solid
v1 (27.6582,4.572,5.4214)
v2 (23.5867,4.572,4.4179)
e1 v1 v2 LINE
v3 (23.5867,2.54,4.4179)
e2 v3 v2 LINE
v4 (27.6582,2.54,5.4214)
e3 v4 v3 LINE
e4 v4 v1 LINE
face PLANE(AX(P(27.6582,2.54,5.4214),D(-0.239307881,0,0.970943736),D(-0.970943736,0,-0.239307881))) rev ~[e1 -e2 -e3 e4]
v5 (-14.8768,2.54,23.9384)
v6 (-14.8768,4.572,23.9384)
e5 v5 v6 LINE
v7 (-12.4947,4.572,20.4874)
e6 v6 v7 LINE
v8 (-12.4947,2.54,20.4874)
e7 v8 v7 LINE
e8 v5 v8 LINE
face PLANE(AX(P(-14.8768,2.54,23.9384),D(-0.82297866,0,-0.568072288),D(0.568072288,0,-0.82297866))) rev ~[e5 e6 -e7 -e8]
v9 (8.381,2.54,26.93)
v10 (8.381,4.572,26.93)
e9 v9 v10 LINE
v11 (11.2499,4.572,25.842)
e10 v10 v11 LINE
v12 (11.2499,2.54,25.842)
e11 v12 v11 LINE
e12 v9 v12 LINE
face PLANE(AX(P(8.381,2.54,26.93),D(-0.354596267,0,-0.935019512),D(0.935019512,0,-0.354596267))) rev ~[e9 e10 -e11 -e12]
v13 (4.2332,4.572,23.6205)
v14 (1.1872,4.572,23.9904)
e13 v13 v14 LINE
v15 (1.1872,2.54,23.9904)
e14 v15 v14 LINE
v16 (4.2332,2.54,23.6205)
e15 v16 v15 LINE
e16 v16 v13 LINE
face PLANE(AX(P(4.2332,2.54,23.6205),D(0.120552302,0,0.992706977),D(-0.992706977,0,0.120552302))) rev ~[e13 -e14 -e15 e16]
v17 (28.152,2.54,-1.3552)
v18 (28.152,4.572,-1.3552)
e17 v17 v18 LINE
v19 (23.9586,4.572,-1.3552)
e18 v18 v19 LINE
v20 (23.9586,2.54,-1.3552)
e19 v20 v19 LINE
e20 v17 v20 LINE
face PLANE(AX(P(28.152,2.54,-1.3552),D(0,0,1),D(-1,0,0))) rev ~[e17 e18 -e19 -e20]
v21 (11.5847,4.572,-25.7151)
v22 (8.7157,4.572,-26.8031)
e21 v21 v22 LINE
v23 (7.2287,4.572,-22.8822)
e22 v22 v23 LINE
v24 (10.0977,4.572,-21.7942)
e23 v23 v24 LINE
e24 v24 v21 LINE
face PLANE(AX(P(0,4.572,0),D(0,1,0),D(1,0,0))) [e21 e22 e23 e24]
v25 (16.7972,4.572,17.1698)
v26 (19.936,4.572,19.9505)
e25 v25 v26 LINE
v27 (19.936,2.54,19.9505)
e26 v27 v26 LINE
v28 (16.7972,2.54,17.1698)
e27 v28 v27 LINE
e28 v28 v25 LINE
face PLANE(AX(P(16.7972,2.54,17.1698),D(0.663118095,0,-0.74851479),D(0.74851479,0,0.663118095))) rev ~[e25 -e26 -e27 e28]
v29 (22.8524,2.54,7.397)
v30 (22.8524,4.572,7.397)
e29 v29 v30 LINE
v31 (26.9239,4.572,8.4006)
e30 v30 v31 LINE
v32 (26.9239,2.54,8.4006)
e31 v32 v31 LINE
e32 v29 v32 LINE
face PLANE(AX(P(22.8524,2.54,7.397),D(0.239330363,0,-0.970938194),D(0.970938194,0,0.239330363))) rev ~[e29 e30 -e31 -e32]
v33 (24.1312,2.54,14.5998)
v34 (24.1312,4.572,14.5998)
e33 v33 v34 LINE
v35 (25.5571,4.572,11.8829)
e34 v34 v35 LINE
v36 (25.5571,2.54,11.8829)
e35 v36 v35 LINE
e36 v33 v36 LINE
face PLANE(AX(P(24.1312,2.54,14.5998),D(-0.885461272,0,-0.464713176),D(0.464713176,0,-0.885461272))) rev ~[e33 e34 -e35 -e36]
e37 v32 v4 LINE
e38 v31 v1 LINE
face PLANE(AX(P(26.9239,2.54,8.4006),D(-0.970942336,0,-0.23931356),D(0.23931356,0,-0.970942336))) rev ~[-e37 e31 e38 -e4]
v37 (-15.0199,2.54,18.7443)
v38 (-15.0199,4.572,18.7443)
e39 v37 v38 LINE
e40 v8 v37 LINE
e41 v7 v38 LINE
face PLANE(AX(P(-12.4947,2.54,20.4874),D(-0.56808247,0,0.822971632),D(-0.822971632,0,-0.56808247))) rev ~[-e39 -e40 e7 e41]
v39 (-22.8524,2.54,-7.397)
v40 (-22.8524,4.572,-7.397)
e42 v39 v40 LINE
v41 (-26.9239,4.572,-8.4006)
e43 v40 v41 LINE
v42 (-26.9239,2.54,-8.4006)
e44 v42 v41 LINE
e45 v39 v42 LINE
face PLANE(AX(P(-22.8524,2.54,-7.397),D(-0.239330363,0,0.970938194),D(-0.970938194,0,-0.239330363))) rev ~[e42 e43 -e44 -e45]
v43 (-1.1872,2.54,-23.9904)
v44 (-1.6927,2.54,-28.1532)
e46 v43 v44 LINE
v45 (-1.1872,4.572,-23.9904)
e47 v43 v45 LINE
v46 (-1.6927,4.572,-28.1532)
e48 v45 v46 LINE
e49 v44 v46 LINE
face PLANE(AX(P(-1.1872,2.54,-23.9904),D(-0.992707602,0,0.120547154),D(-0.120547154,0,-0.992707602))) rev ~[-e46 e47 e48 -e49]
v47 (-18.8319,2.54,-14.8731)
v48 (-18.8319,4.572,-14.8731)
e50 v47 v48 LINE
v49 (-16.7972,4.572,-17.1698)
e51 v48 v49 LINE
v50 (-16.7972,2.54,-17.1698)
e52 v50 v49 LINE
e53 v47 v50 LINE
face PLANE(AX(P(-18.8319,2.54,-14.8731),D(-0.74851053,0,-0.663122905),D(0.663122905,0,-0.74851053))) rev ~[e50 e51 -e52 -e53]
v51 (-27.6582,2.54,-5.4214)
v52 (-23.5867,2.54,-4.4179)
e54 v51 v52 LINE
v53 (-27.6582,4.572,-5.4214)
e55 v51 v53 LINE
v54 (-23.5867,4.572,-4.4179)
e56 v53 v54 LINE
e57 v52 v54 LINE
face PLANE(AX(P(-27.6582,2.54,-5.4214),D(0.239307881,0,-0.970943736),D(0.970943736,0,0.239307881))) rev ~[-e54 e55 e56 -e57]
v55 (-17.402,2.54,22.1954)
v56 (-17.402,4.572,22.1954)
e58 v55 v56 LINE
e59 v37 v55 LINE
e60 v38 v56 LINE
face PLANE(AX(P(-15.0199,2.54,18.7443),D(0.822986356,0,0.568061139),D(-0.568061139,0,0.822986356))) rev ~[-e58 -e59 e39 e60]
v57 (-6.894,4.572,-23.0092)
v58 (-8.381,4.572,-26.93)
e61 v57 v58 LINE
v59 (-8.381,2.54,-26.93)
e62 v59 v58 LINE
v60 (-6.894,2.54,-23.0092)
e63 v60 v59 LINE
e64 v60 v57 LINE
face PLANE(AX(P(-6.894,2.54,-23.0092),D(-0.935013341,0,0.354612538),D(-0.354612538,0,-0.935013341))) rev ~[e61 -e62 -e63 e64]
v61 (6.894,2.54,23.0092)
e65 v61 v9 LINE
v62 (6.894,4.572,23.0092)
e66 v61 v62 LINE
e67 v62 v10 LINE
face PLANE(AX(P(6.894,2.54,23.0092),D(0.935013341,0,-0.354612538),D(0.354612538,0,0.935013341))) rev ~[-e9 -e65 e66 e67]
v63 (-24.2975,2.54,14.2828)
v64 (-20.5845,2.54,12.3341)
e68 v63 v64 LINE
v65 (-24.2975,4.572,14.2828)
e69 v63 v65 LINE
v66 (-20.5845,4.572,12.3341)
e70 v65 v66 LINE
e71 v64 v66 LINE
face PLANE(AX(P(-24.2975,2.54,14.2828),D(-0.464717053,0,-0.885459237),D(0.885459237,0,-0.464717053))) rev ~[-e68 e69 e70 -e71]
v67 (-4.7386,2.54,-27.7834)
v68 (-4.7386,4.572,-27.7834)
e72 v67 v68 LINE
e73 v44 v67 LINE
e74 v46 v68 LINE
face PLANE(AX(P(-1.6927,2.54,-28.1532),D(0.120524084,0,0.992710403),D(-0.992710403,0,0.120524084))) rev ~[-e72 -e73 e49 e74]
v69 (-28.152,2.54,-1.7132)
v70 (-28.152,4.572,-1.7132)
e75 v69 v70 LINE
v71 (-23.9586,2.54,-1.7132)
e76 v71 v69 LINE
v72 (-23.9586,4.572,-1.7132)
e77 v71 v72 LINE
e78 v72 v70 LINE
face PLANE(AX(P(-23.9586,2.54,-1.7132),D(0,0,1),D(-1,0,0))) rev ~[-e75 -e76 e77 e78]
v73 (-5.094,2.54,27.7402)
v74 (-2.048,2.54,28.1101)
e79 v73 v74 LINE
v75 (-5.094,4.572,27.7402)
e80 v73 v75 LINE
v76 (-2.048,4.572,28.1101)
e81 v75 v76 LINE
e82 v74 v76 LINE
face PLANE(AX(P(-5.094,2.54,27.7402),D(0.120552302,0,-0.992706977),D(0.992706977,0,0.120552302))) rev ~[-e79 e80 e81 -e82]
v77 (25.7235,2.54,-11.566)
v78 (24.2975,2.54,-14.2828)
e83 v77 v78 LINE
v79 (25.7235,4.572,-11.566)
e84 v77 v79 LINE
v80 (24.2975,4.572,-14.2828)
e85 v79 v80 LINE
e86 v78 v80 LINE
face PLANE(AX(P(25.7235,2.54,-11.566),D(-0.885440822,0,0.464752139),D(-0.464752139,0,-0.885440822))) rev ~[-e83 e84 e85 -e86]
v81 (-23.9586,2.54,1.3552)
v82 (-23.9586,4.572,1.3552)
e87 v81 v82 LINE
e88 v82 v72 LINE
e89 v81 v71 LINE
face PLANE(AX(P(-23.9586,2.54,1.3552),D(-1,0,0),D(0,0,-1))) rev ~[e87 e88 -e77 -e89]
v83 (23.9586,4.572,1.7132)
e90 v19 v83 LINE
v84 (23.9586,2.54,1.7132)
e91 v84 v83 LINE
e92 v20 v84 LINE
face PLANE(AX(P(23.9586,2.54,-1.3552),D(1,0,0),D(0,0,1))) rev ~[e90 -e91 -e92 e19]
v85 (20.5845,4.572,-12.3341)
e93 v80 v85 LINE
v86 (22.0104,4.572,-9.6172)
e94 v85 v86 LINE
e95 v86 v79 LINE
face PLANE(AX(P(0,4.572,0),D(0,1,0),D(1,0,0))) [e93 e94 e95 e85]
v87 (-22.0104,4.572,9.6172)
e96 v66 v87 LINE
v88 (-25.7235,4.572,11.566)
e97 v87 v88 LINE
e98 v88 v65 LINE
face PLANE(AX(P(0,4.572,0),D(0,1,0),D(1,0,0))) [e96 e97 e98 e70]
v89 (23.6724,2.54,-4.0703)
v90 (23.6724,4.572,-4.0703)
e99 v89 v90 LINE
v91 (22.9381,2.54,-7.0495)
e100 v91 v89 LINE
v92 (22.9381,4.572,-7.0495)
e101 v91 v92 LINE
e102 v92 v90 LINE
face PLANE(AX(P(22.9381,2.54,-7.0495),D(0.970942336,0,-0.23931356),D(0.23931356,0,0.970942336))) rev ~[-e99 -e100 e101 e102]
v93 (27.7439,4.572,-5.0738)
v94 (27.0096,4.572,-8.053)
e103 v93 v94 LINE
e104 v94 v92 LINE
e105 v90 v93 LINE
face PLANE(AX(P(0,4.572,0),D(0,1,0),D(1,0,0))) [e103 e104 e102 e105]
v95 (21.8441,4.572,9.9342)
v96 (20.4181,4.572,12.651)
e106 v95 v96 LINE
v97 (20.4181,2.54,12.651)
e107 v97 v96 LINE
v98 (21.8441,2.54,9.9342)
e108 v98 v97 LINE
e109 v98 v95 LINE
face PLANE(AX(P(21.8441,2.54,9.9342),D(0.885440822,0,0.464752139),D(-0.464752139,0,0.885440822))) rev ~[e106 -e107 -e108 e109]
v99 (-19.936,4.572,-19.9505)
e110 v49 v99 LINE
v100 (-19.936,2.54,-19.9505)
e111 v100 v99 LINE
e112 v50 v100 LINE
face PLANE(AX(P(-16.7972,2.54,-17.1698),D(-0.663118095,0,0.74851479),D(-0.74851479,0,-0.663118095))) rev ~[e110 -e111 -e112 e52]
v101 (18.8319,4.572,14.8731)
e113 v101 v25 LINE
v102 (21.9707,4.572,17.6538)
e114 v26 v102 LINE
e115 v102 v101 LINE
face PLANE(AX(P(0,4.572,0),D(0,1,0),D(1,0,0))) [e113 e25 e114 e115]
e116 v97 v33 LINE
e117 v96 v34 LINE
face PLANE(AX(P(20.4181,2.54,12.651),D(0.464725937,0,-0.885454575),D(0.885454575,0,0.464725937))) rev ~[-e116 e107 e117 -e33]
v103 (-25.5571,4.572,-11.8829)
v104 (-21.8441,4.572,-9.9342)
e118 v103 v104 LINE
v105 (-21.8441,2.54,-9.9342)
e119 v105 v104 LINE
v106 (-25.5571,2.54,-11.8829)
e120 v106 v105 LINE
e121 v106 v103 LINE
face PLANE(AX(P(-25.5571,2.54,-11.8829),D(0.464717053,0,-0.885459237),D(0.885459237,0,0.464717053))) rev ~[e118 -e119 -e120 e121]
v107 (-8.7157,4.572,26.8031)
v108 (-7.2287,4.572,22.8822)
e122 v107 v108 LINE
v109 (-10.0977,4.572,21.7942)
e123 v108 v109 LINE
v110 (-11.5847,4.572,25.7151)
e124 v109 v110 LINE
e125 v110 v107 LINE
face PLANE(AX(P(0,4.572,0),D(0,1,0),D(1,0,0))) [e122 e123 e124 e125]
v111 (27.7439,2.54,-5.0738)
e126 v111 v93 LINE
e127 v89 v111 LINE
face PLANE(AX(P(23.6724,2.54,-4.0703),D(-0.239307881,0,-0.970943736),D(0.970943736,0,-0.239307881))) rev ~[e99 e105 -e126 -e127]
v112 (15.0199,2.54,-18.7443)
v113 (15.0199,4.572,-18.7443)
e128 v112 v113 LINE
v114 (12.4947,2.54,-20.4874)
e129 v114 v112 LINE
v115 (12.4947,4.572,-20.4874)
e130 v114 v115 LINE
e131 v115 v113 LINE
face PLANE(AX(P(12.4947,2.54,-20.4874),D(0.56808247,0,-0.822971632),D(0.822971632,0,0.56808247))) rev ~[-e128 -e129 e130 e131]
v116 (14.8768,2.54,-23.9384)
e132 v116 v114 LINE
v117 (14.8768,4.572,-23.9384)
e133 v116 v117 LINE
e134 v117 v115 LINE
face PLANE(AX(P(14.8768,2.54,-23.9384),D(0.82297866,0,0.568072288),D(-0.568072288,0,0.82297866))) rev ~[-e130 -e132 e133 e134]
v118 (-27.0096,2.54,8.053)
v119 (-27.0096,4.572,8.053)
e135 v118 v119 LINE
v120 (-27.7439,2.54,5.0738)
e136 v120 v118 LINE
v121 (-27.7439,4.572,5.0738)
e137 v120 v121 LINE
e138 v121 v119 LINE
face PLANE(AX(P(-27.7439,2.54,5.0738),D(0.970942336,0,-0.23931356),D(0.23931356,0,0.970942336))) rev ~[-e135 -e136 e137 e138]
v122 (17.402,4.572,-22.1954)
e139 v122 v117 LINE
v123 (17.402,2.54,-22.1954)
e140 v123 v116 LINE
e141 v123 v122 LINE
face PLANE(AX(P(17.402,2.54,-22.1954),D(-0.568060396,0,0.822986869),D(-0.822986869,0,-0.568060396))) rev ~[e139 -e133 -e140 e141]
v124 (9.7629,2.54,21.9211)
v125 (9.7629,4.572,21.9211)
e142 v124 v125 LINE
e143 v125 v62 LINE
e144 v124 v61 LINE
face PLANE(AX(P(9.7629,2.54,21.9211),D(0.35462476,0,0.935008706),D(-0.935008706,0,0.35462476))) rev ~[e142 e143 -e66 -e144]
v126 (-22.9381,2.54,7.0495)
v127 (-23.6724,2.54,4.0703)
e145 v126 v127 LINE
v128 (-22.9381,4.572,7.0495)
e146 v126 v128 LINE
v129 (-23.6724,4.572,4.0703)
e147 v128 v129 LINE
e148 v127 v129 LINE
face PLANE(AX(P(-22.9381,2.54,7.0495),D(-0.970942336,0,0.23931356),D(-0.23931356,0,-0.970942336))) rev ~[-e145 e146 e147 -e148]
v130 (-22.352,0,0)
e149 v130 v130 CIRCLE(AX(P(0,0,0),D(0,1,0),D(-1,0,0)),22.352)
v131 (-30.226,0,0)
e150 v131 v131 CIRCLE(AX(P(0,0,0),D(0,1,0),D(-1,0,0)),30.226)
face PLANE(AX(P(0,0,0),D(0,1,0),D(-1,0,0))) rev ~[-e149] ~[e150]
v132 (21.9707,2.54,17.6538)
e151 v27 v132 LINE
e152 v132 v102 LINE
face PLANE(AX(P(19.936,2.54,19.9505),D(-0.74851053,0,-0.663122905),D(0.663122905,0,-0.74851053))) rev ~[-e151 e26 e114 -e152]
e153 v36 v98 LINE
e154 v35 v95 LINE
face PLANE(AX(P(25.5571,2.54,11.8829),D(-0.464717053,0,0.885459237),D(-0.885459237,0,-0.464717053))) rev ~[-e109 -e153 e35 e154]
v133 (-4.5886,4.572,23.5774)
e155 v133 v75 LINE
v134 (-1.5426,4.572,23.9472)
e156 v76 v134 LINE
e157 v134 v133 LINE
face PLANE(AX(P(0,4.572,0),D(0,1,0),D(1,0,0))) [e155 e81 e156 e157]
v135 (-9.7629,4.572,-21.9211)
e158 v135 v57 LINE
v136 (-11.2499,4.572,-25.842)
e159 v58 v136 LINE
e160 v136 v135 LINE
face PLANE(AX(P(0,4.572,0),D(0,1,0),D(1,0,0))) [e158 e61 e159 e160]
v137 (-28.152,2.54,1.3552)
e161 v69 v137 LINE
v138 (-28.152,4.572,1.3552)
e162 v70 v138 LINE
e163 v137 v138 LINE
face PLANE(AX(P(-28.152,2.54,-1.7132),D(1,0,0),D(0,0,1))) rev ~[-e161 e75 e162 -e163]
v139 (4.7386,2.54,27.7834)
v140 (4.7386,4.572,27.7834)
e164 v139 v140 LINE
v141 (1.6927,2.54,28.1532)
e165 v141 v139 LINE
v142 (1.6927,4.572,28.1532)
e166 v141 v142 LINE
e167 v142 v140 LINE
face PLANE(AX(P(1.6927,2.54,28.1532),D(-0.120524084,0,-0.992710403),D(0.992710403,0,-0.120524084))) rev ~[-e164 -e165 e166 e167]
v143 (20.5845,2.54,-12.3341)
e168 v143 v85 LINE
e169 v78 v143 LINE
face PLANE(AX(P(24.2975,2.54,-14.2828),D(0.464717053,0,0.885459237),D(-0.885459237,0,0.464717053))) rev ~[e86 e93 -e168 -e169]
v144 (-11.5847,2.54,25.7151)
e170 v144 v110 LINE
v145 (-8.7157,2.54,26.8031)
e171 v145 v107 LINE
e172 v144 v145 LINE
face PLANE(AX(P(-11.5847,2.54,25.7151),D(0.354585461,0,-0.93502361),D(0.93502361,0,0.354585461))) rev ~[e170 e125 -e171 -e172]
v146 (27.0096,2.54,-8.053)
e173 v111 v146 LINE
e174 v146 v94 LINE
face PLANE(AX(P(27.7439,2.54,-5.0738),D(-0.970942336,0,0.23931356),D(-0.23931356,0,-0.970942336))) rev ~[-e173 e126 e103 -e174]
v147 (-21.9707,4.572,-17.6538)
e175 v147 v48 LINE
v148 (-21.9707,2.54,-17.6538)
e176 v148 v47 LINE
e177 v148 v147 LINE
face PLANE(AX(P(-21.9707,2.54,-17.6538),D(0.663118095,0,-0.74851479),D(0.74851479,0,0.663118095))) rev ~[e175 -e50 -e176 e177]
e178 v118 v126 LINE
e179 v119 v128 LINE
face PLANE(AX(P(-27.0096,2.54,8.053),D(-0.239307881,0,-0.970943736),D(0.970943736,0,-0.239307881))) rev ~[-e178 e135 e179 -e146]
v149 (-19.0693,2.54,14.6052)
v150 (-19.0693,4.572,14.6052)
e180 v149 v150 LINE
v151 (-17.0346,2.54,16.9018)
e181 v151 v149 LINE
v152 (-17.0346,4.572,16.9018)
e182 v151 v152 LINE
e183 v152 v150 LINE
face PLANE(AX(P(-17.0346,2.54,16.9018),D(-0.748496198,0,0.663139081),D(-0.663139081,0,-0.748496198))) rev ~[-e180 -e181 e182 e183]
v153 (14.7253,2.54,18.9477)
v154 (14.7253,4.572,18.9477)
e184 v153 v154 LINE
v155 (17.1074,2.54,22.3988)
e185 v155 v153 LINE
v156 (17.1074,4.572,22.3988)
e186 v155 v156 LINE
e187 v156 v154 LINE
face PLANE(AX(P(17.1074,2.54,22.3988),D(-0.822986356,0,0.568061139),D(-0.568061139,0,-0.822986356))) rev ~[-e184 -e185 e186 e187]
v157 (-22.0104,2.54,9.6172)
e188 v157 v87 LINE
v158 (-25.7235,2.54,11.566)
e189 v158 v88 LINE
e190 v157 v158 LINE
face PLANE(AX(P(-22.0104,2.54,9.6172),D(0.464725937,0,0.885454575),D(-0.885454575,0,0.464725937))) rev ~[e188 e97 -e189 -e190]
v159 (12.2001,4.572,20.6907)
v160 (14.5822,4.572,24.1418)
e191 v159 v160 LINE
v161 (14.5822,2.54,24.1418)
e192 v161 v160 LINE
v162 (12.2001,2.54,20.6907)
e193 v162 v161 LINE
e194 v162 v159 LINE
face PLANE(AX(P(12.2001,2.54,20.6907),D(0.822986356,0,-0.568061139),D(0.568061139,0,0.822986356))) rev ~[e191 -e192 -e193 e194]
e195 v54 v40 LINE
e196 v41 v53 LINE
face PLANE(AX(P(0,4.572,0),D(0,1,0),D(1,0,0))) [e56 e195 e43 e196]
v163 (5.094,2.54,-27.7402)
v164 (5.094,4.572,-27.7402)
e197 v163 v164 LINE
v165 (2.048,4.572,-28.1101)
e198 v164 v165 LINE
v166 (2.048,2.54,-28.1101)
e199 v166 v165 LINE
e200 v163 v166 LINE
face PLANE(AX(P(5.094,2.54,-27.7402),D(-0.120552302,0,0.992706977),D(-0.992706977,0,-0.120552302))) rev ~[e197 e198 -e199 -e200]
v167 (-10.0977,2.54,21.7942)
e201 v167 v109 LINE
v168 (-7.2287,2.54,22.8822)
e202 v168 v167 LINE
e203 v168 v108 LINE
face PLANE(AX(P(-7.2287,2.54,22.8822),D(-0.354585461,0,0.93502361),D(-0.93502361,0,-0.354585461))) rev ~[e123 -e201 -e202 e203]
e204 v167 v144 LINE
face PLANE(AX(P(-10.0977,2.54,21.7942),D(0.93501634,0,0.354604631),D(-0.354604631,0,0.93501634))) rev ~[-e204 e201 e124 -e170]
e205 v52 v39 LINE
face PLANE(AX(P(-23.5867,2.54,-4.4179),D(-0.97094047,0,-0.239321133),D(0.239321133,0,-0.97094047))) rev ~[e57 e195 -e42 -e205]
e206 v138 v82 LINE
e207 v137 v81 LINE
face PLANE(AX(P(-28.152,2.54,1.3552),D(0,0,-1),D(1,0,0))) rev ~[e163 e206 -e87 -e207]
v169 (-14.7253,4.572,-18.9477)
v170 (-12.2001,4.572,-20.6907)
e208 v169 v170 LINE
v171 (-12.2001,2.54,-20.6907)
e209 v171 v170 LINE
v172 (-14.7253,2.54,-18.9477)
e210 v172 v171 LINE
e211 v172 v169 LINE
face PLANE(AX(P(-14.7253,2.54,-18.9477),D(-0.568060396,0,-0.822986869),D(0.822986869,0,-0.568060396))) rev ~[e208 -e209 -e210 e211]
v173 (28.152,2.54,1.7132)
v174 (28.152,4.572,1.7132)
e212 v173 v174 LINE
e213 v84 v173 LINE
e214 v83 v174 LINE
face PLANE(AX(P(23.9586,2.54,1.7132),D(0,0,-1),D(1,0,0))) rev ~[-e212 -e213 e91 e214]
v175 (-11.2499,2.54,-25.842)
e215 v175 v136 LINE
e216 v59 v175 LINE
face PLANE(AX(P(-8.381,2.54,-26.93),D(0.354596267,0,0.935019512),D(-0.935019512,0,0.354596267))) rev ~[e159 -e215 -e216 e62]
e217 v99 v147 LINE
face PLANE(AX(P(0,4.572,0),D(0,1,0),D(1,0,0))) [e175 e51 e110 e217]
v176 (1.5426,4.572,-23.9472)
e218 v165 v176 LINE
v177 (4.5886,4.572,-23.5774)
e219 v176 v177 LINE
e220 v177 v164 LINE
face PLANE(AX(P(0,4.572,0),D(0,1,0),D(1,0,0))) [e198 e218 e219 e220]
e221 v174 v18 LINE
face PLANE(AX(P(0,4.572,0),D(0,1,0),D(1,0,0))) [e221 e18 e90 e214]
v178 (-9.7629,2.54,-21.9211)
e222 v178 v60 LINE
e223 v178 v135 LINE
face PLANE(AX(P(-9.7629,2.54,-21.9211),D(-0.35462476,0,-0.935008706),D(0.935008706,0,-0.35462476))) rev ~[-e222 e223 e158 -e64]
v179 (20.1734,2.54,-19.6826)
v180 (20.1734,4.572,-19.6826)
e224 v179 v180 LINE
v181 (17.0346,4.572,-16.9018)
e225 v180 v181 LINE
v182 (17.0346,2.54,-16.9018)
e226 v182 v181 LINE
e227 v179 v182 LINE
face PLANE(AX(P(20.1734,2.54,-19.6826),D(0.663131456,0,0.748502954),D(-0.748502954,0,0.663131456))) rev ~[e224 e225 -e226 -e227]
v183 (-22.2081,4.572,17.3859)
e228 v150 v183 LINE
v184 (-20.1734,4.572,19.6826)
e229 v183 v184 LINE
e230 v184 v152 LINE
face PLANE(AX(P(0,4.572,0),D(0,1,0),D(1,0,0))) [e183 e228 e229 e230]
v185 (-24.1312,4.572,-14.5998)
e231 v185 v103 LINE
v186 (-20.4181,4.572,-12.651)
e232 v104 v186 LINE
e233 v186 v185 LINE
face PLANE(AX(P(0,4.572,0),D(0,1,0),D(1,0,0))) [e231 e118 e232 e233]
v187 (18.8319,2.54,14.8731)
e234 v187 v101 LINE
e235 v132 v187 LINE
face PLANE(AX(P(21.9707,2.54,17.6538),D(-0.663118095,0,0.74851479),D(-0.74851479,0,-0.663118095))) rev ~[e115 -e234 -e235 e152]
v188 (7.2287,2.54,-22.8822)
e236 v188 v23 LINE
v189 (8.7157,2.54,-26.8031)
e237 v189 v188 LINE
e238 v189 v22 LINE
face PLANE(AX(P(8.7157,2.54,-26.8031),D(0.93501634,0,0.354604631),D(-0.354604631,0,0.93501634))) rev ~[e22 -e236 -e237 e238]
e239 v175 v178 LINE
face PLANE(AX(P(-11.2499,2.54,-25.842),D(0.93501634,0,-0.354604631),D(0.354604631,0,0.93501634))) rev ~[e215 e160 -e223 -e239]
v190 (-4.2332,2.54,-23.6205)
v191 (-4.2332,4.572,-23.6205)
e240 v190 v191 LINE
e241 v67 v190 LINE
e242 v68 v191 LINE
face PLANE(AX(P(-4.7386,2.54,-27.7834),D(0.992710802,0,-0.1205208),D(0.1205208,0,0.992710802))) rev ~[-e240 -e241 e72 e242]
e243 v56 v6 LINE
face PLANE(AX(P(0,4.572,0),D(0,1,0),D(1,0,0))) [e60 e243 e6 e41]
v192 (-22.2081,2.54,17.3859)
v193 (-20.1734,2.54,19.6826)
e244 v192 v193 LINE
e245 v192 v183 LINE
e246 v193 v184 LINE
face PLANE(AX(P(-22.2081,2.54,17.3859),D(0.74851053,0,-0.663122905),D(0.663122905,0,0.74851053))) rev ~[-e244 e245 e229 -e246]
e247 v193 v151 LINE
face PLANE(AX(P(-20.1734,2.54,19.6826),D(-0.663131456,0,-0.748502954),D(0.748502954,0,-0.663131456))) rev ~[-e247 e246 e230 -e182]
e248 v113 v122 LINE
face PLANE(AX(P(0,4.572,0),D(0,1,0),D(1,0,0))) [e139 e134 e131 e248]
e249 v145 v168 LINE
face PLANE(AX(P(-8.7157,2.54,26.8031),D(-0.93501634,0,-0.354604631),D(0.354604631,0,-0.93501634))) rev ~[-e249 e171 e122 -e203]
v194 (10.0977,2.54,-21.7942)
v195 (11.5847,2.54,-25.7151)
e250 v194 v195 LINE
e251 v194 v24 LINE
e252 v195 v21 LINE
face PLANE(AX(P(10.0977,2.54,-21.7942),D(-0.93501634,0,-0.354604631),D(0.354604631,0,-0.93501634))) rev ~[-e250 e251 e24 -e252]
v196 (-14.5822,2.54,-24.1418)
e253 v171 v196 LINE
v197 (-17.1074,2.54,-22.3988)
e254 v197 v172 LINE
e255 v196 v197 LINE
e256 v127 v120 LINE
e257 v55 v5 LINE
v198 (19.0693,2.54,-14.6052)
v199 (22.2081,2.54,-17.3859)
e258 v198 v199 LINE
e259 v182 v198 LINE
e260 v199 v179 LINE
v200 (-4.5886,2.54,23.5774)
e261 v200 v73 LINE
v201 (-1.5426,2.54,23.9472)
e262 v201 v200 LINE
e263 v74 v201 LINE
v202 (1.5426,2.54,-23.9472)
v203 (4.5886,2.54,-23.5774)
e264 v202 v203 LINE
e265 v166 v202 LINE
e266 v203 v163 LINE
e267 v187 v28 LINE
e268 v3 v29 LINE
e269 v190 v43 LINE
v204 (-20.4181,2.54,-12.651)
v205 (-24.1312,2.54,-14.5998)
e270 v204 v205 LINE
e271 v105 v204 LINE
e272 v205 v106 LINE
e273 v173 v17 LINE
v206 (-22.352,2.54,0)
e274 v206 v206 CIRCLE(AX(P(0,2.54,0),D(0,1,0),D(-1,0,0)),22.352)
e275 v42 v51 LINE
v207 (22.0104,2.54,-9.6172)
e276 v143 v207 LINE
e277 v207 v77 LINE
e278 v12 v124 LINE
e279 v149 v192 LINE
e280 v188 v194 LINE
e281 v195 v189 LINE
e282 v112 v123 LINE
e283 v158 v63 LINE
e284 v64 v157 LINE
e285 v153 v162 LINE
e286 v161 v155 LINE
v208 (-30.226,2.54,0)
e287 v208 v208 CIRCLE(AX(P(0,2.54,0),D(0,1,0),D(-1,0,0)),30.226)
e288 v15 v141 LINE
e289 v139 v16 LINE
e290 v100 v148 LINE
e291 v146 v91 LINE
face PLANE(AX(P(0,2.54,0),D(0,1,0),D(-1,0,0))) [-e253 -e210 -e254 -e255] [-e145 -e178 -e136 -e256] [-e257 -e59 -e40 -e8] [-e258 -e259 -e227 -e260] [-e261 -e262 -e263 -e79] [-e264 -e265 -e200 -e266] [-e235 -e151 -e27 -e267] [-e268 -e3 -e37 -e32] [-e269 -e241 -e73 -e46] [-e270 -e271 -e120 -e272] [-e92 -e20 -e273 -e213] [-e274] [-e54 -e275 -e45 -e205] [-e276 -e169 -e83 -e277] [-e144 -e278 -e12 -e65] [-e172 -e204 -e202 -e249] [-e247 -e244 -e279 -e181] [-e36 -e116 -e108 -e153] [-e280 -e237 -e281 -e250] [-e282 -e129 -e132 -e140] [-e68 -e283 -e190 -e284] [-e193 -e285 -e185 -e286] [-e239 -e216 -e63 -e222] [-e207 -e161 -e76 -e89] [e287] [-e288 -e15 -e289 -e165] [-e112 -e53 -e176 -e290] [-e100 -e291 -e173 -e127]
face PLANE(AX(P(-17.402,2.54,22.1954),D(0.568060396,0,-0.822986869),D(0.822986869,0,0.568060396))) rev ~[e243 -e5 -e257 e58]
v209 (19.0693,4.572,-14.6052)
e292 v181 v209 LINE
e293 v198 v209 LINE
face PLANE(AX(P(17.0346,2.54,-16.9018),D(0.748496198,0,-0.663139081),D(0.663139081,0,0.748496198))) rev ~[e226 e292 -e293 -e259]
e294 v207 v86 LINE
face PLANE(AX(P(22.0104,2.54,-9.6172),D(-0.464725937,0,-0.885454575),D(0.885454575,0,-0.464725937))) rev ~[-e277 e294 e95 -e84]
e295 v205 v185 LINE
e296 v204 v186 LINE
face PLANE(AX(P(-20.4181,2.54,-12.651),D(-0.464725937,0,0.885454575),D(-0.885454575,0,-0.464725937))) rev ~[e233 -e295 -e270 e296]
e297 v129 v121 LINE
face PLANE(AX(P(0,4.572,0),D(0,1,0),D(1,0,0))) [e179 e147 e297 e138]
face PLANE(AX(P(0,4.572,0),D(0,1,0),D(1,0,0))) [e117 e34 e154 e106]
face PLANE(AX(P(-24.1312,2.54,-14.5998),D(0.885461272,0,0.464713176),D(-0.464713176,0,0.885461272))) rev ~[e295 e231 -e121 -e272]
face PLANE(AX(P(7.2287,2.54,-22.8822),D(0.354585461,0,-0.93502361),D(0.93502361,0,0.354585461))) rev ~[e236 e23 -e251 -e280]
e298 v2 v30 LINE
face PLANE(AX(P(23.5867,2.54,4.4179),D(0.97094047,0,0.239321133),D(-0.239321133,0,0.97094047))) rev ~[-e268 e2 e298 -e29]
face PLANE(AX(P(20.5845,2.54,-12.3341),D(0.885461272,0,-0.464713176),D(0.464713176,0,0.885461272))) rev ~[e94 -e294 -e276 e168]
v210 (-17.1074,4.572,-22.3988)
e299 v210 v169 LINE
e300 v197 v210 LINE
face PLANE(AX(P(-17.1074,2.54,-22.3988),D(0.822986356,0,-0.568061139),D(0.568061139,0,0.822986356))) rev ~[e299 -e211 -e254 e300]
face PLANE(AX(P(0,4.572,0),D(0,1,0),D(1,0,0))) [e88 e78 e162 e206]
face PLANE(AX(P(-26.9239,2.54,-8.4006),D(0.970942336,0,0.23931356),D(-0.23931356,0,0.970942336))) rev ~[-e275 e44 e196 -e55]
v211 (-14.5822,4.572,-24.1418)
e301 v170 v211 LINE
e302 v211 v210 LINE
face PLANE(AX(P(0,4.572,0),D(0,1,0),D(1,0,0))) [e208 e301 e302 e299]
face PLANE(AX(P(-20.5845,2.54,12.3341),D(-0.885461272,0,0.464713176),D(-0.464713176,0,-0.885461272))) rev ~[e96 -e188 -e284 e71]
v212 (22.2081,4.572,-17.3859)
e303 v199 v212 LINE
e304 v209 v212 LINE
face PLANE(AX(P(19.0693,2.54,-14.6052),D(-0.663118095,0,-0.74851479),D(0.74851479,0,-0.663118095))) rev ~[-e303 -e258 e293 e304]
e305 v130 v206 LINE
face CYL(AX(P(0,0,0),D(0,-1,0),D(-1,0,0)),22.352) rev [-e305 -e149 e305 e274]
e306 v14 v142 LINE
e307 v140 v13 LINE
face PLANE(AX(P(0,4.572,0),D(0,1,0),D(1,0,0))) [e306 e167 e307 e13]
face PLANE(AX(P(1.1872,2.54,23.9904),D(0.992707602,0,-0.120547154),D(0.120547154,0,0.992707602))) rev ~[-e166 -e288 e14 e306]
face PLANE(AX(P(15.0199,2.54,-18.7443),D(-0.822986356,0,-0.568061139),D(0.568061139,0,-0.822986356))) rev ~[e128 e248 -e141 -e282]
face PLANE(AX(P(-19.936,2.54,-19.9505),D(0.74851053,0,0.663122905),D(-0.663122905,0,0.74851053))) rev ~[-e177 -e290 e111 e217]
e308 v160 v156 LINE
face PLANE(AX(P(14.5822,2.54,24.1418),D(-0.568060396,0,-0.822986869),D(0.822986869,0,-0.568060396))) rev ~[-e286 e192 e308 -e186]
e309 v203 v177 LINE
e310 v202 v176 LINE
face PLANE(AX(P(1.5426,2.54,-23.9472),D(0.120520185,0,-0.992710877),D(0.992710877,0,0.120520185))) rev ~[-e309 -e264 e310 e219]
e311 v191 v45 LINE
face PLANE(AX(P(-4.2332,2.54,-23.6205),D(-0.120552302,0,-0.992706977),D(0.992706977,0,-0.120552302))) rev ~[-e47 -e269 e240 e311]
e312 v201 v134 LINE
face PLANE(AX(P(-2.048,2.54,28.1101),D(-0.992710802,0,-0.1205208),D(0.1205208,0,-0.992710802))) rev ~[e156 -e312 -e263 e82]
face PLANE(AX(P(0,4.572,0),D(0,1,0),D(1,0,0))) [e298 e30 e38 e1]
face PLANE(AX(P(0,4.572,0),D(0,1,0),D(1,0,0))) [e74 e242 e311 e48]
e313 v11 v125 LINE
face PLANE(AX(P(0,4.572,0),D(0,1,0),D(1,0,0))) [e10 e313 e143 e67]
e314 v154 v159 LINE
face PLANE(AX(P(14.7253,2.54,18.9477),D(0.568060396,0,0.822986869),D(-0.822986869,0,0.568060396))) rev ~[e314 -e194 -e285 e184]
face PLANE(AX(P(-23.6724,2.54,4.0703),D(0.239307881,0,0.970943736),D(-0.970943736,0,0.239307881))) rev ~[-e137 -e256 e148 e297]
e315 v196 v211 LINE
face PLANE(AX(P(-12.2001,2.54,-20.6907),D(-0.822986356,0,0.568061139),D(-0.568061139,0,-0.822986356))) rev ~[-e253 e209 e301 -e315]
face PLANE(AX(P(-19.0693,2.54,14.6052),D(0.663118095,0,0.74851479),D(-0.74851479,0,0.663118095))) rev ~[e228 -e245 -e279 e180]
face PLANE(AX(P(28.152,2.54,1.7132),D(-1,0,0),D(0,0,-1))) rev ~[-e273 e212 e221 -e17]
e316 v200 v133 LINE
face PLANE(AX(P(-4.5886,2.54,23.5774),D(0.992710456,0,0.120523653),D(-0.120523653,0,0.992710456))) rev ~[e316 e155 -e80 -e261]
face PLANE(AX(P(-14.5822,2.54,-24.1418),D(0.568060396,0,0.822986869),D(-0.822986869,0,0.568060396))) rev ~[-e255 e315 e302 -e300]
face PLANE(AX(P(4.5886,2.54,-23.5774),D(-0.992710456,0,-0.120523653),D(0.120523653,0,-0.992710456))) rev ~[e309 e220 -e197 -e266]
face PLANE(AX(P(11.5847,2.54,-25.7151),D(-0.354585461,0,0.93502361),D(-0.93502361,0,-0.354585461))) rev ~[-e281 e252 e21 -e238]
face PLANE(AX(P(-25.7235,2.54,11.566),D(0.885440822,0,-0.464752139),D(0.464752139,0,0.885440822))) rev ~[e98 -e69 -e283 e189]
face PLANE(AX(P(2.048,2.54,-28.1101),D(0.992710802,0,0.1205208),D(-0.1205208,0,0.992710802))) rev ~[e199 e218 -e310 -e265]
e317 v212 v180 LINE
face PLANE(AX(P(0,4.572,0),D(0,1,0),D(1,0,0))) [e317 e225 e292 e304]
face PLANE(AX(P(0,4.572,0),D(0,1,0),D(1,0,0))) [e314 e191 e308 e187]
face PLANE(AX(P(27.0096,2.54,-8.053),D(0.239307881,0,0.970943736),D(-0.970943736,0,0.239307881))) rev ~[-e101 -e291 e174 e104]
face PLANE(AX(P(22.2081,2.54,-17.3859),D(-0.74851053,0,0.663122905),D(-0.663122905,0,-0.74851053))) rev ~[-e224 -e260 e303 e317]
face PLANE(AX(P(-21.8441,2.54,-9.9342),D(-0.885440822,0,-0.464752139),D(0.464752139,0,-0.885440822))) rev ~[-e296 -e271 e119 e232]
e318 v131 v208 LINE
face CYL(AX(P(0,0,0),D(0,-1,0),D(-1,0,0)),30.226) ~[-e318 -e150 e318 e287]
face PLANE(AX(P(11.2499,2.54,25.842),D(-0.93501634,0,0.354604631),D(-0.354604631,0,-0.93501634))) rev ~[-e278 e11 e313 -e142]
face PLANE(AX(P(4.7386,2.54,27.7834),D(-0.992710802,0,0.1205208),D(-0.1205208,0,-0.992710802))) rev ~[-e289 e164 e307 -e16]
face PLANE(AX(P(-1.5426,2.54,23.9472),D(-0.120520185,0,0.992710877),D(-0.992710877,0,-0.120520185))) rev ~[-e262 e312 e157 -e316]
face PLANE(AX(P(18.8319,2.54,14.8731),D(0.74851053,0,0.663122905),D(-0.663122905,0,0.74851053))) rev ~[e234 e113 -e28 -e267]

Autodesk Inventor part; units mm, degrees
ref_plane "YZ Plane" through (0, 0, 0) normal (1, 0, 0) x (0, 1, 0)
ref_plane "XZ Plane" through (0, 0, 0) normal (0, 1, 0) x (-1, 0, 0)
ref_plane "XY Plane" through (0, 0, 0) normal (0, 0, 1) x (1, 0, 0)
sketch "Sketch1" plane through (0, 0, 0) normal (0, 1, 0) x (-1, 0, 0)
  circle A0 centre (0, 0) radius 22.352
  circle A1 centre (0, 0) radius 30.226
  dimension "d0" = 44.704
  dimension "d1" = 60.452
extrude "Extrusion1" add sketch "Sketch1" along normal blind 2.54
sketch "Sketch2" plane through (0, 2.54, 0) normal (0, 1, 0) x (1, 0, 0)
  line L0 (-28.152, -1.3552) -> (-23.9586, -1.3552)
  line L1 (-23.9586, -1.3552) -> (-23.9586, 1.7132)
  line L2 (-23.9586, 1.7132) -> (-28.152, 1.7132)
  line L3 (-28.152, 1.7132) -> (-28.152, -1.3552)
  line L4 (-27.7439, -5.0738) -> (-27.0096, -8.053)
  line L5 (-23.6724, -4.0703) -> (-27.7439, -5.0738)
  line L6 (-22.9381, -7.0495) -> (-23.6724, -4.0703)
  line L7 (-27.0096, -8.053) -> (-22.9381, -7.0495)
  line L8 (-25.7235, -11.566) -> (-24.2975, -14.2828)
  line L9 (-22.0104, -9.6172) -> (-25.7235, -11.566)
  line L10 (-20.5845, -12.3341) -> (-22.0104, -9.6172)
  line L11 (-24.2975, -14.2828) -> (-20.5845, -12.3341)
  line L12 (-22.2081, -17.3859) -> (-20.1734, -19.6826)
  line L13 (-19.0693, -14.6052) -> (-22.2081, -17.3859)
  line L14 (-17.0346, -16.9018) -> (-19.0693, -14.6052)
  line L15 (-20.1734, -19.6826) -> (-17.0346, -16.9018)
  line L16 (-17.402, -22.1954) -> (-14.8768, -23.9384)
  line L17 (-15.0199, -18.7443) -> (-17.402, -22.1954)
  line L18 (-12.4947, -20.4874) -> (-15.0199, -18.7443)
  line L19 (-14.8768, -23.9384) -> (-12.4947, -20.4874)
  line L20 (-11.5847, -25.7151) -> (-8.7157, -26.8031)
  line L21 (-10.0977, -21.7942) -> (-11.5847, -25.7151)
  line L22 (-7.2287, -22.8822) -> (-10.0977, -21.7942)
  line L23 (-8.7157, -26.8031) -> (-7.2287, -22.8822)
  line L24 (-5.094, -27.7402) -> (-2.048, -28.1101)
  line L25 (-4.5886, -23.5774) -> (-5.094, -27.7402)
  line L26 (-1.5426, -23.9472) -> (-4.5886, -23.5774)
  line L27 (-2.048, -28.1101) -> (-1.5426, -23.9472)
  line L28 (1.6927, -28.1532) -> (4.7386, -27.7834)
  line L29 (1.1872, -23.9904) -> (1.6927, -28.1532)
  line L30 (4.2332, -23.6205) -> (1.1872, -23.9904)
  line L31 (4.7386, -27.7834) -> (4.2332, -23.6205)
  line L32 (8.381, -26.93) -> (11.2499, -25.842)
  line L33 (6.894, -23.0092) -> (8.381, -26.93)
  line L34 (9.7629, -21.9211) -> (6.894, -23.0092)
  line L35 (11.2499, -25.842) -> (9.7629, -21.9211)
  line L36 (14.5822, -24.1418) -> (17.1074, -22.3988)
  line L37 (12.2001, -20.6907) -> (14.5822, -24.1418)
  line L38 (14.7253, -18.9477) -> (12.2001, -20.6907)
  line L39 (17.1074, -22.3988) -> (14.7253, -18.9477)
  line L40 (19.936, -19.9505) -> (21.9707, -17.6538)
  line L41 (16.7972, -17.1698) -> (19.936, -19.9505)
  line L42 (18.8319, -14.8731) -> (16.7972, -17.1698)
  line L43 (21.9707, -17.6538) -> (18.8319, -14.8731)
  line L44 (24.1312, -14.5998) -> (25.5571, -11.8829)
  line L45 (20.4181, -12.651) -> (24.1312, -14.5998)
  line L46 (21.8441, -9.9342) -> (20.4181, -12.651)
  line L47 (25.5571, -11.8829) -> (21.8441, -9.9342)
  line L48 (26.9239, -8.4006) -> (27.6582, -5.4214)
  line L49 (22.8524, -7.397) -> (26.9239, -8.4006)
  line L50 (23.5867, -4.4179) -> (22.8524, -7.397)
  line L51 (27.6582, -5.4214) -> (23.5867, -4.4179)
  line L52 (28.152, -1.7132) -> (28.152, 1.3552)
  line L53 (23.9586, -1.7132) -> (28.152, -1.7132)
  line L54 (23.9586, 1.3552) -> (23.9586, -1.7132)
  line L55 (28.152, 1.3552) -> (23.9586, 1.3552)
  line L56 (27.7439, 5.0738) -> (27.0096, 8.053)
  line L57 (23.6724, 4.0703) -> (27.7439, 5.0738)
  line L58 (22.9381, 7.0495) -> (23.6724, 4.0703)
  line L59 (27.0096, 8.053) -> (22.9381, 7.0495)
  line L60 (25.7235, 11.566) -> (24.2975, 14.2828)
  line L61 (22.0104, 9.6172) -> (25.7235, 11.566)
  line L62 (20.5845, 12.3341) -> (22.0104, 9.6172)
  line L63 (24.2975, 14.2828) -> (20.5845, 12.3341)
  line L64 (22.2081, 17.3859) -> (20.1734, 19.6826)
  line L65 (19.0693, 14.6052) -> (22.2081, 17.3859)
  line L66 (17.0346, 16.9018) -> (19.0693, 14.6052)
  line L67 (20.1734, 19.6826) -> (17.0346, 16.9018)
  line L68 (17.402, 22.1954) -> (14.8768, 23.9384)
  line L69 (15.0199, 18.7443) -> (17.402, 22.1954)
  line L70 (12.4947, 20.4874) -> (15.0199, 18.7443)
  line L71 (14.8768, 23.9384) -> (12.4947, 20.4874)
  line L72 (11.5847, 25.7151) -> (8.7157, 26.8031)
  line L73 (10.0977, 21.7942) -> (11.5847, 25.7151)
  line L74 (7.2287, 22.8822) -> (10.0977, 21.7942)
  line L75 (8.7157, 26.8031) -> (7.2287, 22.8822)
  line L76 (5.094, 27.7402) -> (2.048, 28.1101)
  line L77 (4.5886, 23.5774) -> (5.094, 27.7402)
  line L78 (1.5426, 23.9472) -> (4.5886, 23.5774)
  line L79 (2.048, 28.1101) -> (1.5426, 23.9472)
  line L80 (-1.6927, 28.1532) -> (-4.7386, 27.7834)
  line L81 (-1.1872, 23.9904) -> (-1.6927, 28.1532)
  line L82 (-4.2332, 23.6205) -> (-1.1872, 23.9904)
  line L83 (-4.7386, 27.7834) -> (-4.2332, 23.6205)
  line L84 (-8.381, 26.93) -> (-11.2499, 25.842)
  line L85 (-6.894, 23.0092) -> (-8.381, 26.93)
  line L86 (-9.7629, 21.9211) -> (-6.894, 23.0092)
  line L87 (-11.2499, 25.842) -> (-9.7629, 21.9211)
  line L88 (-14.5822, 24.1418) -> (-17.1074, 22.3988)
  line L89 (-12.2001, 20.6907) -> (-14.5822, 24.1418)
  line L90 (-14.7253, 18.9477) -> (-12.2001, 20.6907)
  line L91 (-17.1074, 22.3988) -> (-14.7253, 18.9477)
  line L92 (-19.936, 19.9505) -> (-21.9707, 17.6538)
  line L93 (-16.7972, 17.1698) -> (-19.936, 19.9505)
  line L94 (-18.8319, 14.8731) -> (-16.7972, 17.1698)
  line L95 (-21.9707, 17.6538) -> (-18.8319, 14.8731)
  line L96 (-24.1312, 14.5998) -> (-25.5571, 11.8829)
  line L97 (-20.4181, 12.651) -> (-24.1312, 14.5998)
  line L98 (-21.8441, 9.9342) -> (-20.4181, 12.651)
  line L99 (-25.5571, 11.8829) -> (-21.8441, 9.9342)
  line L100 (-26.9239, 8.4006) -> (-27.6582, 5.4214)
  line L101 (-22.8524, 7.397) -> (-26.9239, 8.4006)
  line L102 (-23.5867, 4.4179) -> (-22.8524, 7.397)
  line L103 (-27.6582, 5.4214) -> (-23.5867, 4.4179)
  point P0 (0, 0)
  dimension "d6" = 360
extrude "Extrusion2" add sketch "Sketch2" along normal blind 2.032
properties part number "ledRing"
